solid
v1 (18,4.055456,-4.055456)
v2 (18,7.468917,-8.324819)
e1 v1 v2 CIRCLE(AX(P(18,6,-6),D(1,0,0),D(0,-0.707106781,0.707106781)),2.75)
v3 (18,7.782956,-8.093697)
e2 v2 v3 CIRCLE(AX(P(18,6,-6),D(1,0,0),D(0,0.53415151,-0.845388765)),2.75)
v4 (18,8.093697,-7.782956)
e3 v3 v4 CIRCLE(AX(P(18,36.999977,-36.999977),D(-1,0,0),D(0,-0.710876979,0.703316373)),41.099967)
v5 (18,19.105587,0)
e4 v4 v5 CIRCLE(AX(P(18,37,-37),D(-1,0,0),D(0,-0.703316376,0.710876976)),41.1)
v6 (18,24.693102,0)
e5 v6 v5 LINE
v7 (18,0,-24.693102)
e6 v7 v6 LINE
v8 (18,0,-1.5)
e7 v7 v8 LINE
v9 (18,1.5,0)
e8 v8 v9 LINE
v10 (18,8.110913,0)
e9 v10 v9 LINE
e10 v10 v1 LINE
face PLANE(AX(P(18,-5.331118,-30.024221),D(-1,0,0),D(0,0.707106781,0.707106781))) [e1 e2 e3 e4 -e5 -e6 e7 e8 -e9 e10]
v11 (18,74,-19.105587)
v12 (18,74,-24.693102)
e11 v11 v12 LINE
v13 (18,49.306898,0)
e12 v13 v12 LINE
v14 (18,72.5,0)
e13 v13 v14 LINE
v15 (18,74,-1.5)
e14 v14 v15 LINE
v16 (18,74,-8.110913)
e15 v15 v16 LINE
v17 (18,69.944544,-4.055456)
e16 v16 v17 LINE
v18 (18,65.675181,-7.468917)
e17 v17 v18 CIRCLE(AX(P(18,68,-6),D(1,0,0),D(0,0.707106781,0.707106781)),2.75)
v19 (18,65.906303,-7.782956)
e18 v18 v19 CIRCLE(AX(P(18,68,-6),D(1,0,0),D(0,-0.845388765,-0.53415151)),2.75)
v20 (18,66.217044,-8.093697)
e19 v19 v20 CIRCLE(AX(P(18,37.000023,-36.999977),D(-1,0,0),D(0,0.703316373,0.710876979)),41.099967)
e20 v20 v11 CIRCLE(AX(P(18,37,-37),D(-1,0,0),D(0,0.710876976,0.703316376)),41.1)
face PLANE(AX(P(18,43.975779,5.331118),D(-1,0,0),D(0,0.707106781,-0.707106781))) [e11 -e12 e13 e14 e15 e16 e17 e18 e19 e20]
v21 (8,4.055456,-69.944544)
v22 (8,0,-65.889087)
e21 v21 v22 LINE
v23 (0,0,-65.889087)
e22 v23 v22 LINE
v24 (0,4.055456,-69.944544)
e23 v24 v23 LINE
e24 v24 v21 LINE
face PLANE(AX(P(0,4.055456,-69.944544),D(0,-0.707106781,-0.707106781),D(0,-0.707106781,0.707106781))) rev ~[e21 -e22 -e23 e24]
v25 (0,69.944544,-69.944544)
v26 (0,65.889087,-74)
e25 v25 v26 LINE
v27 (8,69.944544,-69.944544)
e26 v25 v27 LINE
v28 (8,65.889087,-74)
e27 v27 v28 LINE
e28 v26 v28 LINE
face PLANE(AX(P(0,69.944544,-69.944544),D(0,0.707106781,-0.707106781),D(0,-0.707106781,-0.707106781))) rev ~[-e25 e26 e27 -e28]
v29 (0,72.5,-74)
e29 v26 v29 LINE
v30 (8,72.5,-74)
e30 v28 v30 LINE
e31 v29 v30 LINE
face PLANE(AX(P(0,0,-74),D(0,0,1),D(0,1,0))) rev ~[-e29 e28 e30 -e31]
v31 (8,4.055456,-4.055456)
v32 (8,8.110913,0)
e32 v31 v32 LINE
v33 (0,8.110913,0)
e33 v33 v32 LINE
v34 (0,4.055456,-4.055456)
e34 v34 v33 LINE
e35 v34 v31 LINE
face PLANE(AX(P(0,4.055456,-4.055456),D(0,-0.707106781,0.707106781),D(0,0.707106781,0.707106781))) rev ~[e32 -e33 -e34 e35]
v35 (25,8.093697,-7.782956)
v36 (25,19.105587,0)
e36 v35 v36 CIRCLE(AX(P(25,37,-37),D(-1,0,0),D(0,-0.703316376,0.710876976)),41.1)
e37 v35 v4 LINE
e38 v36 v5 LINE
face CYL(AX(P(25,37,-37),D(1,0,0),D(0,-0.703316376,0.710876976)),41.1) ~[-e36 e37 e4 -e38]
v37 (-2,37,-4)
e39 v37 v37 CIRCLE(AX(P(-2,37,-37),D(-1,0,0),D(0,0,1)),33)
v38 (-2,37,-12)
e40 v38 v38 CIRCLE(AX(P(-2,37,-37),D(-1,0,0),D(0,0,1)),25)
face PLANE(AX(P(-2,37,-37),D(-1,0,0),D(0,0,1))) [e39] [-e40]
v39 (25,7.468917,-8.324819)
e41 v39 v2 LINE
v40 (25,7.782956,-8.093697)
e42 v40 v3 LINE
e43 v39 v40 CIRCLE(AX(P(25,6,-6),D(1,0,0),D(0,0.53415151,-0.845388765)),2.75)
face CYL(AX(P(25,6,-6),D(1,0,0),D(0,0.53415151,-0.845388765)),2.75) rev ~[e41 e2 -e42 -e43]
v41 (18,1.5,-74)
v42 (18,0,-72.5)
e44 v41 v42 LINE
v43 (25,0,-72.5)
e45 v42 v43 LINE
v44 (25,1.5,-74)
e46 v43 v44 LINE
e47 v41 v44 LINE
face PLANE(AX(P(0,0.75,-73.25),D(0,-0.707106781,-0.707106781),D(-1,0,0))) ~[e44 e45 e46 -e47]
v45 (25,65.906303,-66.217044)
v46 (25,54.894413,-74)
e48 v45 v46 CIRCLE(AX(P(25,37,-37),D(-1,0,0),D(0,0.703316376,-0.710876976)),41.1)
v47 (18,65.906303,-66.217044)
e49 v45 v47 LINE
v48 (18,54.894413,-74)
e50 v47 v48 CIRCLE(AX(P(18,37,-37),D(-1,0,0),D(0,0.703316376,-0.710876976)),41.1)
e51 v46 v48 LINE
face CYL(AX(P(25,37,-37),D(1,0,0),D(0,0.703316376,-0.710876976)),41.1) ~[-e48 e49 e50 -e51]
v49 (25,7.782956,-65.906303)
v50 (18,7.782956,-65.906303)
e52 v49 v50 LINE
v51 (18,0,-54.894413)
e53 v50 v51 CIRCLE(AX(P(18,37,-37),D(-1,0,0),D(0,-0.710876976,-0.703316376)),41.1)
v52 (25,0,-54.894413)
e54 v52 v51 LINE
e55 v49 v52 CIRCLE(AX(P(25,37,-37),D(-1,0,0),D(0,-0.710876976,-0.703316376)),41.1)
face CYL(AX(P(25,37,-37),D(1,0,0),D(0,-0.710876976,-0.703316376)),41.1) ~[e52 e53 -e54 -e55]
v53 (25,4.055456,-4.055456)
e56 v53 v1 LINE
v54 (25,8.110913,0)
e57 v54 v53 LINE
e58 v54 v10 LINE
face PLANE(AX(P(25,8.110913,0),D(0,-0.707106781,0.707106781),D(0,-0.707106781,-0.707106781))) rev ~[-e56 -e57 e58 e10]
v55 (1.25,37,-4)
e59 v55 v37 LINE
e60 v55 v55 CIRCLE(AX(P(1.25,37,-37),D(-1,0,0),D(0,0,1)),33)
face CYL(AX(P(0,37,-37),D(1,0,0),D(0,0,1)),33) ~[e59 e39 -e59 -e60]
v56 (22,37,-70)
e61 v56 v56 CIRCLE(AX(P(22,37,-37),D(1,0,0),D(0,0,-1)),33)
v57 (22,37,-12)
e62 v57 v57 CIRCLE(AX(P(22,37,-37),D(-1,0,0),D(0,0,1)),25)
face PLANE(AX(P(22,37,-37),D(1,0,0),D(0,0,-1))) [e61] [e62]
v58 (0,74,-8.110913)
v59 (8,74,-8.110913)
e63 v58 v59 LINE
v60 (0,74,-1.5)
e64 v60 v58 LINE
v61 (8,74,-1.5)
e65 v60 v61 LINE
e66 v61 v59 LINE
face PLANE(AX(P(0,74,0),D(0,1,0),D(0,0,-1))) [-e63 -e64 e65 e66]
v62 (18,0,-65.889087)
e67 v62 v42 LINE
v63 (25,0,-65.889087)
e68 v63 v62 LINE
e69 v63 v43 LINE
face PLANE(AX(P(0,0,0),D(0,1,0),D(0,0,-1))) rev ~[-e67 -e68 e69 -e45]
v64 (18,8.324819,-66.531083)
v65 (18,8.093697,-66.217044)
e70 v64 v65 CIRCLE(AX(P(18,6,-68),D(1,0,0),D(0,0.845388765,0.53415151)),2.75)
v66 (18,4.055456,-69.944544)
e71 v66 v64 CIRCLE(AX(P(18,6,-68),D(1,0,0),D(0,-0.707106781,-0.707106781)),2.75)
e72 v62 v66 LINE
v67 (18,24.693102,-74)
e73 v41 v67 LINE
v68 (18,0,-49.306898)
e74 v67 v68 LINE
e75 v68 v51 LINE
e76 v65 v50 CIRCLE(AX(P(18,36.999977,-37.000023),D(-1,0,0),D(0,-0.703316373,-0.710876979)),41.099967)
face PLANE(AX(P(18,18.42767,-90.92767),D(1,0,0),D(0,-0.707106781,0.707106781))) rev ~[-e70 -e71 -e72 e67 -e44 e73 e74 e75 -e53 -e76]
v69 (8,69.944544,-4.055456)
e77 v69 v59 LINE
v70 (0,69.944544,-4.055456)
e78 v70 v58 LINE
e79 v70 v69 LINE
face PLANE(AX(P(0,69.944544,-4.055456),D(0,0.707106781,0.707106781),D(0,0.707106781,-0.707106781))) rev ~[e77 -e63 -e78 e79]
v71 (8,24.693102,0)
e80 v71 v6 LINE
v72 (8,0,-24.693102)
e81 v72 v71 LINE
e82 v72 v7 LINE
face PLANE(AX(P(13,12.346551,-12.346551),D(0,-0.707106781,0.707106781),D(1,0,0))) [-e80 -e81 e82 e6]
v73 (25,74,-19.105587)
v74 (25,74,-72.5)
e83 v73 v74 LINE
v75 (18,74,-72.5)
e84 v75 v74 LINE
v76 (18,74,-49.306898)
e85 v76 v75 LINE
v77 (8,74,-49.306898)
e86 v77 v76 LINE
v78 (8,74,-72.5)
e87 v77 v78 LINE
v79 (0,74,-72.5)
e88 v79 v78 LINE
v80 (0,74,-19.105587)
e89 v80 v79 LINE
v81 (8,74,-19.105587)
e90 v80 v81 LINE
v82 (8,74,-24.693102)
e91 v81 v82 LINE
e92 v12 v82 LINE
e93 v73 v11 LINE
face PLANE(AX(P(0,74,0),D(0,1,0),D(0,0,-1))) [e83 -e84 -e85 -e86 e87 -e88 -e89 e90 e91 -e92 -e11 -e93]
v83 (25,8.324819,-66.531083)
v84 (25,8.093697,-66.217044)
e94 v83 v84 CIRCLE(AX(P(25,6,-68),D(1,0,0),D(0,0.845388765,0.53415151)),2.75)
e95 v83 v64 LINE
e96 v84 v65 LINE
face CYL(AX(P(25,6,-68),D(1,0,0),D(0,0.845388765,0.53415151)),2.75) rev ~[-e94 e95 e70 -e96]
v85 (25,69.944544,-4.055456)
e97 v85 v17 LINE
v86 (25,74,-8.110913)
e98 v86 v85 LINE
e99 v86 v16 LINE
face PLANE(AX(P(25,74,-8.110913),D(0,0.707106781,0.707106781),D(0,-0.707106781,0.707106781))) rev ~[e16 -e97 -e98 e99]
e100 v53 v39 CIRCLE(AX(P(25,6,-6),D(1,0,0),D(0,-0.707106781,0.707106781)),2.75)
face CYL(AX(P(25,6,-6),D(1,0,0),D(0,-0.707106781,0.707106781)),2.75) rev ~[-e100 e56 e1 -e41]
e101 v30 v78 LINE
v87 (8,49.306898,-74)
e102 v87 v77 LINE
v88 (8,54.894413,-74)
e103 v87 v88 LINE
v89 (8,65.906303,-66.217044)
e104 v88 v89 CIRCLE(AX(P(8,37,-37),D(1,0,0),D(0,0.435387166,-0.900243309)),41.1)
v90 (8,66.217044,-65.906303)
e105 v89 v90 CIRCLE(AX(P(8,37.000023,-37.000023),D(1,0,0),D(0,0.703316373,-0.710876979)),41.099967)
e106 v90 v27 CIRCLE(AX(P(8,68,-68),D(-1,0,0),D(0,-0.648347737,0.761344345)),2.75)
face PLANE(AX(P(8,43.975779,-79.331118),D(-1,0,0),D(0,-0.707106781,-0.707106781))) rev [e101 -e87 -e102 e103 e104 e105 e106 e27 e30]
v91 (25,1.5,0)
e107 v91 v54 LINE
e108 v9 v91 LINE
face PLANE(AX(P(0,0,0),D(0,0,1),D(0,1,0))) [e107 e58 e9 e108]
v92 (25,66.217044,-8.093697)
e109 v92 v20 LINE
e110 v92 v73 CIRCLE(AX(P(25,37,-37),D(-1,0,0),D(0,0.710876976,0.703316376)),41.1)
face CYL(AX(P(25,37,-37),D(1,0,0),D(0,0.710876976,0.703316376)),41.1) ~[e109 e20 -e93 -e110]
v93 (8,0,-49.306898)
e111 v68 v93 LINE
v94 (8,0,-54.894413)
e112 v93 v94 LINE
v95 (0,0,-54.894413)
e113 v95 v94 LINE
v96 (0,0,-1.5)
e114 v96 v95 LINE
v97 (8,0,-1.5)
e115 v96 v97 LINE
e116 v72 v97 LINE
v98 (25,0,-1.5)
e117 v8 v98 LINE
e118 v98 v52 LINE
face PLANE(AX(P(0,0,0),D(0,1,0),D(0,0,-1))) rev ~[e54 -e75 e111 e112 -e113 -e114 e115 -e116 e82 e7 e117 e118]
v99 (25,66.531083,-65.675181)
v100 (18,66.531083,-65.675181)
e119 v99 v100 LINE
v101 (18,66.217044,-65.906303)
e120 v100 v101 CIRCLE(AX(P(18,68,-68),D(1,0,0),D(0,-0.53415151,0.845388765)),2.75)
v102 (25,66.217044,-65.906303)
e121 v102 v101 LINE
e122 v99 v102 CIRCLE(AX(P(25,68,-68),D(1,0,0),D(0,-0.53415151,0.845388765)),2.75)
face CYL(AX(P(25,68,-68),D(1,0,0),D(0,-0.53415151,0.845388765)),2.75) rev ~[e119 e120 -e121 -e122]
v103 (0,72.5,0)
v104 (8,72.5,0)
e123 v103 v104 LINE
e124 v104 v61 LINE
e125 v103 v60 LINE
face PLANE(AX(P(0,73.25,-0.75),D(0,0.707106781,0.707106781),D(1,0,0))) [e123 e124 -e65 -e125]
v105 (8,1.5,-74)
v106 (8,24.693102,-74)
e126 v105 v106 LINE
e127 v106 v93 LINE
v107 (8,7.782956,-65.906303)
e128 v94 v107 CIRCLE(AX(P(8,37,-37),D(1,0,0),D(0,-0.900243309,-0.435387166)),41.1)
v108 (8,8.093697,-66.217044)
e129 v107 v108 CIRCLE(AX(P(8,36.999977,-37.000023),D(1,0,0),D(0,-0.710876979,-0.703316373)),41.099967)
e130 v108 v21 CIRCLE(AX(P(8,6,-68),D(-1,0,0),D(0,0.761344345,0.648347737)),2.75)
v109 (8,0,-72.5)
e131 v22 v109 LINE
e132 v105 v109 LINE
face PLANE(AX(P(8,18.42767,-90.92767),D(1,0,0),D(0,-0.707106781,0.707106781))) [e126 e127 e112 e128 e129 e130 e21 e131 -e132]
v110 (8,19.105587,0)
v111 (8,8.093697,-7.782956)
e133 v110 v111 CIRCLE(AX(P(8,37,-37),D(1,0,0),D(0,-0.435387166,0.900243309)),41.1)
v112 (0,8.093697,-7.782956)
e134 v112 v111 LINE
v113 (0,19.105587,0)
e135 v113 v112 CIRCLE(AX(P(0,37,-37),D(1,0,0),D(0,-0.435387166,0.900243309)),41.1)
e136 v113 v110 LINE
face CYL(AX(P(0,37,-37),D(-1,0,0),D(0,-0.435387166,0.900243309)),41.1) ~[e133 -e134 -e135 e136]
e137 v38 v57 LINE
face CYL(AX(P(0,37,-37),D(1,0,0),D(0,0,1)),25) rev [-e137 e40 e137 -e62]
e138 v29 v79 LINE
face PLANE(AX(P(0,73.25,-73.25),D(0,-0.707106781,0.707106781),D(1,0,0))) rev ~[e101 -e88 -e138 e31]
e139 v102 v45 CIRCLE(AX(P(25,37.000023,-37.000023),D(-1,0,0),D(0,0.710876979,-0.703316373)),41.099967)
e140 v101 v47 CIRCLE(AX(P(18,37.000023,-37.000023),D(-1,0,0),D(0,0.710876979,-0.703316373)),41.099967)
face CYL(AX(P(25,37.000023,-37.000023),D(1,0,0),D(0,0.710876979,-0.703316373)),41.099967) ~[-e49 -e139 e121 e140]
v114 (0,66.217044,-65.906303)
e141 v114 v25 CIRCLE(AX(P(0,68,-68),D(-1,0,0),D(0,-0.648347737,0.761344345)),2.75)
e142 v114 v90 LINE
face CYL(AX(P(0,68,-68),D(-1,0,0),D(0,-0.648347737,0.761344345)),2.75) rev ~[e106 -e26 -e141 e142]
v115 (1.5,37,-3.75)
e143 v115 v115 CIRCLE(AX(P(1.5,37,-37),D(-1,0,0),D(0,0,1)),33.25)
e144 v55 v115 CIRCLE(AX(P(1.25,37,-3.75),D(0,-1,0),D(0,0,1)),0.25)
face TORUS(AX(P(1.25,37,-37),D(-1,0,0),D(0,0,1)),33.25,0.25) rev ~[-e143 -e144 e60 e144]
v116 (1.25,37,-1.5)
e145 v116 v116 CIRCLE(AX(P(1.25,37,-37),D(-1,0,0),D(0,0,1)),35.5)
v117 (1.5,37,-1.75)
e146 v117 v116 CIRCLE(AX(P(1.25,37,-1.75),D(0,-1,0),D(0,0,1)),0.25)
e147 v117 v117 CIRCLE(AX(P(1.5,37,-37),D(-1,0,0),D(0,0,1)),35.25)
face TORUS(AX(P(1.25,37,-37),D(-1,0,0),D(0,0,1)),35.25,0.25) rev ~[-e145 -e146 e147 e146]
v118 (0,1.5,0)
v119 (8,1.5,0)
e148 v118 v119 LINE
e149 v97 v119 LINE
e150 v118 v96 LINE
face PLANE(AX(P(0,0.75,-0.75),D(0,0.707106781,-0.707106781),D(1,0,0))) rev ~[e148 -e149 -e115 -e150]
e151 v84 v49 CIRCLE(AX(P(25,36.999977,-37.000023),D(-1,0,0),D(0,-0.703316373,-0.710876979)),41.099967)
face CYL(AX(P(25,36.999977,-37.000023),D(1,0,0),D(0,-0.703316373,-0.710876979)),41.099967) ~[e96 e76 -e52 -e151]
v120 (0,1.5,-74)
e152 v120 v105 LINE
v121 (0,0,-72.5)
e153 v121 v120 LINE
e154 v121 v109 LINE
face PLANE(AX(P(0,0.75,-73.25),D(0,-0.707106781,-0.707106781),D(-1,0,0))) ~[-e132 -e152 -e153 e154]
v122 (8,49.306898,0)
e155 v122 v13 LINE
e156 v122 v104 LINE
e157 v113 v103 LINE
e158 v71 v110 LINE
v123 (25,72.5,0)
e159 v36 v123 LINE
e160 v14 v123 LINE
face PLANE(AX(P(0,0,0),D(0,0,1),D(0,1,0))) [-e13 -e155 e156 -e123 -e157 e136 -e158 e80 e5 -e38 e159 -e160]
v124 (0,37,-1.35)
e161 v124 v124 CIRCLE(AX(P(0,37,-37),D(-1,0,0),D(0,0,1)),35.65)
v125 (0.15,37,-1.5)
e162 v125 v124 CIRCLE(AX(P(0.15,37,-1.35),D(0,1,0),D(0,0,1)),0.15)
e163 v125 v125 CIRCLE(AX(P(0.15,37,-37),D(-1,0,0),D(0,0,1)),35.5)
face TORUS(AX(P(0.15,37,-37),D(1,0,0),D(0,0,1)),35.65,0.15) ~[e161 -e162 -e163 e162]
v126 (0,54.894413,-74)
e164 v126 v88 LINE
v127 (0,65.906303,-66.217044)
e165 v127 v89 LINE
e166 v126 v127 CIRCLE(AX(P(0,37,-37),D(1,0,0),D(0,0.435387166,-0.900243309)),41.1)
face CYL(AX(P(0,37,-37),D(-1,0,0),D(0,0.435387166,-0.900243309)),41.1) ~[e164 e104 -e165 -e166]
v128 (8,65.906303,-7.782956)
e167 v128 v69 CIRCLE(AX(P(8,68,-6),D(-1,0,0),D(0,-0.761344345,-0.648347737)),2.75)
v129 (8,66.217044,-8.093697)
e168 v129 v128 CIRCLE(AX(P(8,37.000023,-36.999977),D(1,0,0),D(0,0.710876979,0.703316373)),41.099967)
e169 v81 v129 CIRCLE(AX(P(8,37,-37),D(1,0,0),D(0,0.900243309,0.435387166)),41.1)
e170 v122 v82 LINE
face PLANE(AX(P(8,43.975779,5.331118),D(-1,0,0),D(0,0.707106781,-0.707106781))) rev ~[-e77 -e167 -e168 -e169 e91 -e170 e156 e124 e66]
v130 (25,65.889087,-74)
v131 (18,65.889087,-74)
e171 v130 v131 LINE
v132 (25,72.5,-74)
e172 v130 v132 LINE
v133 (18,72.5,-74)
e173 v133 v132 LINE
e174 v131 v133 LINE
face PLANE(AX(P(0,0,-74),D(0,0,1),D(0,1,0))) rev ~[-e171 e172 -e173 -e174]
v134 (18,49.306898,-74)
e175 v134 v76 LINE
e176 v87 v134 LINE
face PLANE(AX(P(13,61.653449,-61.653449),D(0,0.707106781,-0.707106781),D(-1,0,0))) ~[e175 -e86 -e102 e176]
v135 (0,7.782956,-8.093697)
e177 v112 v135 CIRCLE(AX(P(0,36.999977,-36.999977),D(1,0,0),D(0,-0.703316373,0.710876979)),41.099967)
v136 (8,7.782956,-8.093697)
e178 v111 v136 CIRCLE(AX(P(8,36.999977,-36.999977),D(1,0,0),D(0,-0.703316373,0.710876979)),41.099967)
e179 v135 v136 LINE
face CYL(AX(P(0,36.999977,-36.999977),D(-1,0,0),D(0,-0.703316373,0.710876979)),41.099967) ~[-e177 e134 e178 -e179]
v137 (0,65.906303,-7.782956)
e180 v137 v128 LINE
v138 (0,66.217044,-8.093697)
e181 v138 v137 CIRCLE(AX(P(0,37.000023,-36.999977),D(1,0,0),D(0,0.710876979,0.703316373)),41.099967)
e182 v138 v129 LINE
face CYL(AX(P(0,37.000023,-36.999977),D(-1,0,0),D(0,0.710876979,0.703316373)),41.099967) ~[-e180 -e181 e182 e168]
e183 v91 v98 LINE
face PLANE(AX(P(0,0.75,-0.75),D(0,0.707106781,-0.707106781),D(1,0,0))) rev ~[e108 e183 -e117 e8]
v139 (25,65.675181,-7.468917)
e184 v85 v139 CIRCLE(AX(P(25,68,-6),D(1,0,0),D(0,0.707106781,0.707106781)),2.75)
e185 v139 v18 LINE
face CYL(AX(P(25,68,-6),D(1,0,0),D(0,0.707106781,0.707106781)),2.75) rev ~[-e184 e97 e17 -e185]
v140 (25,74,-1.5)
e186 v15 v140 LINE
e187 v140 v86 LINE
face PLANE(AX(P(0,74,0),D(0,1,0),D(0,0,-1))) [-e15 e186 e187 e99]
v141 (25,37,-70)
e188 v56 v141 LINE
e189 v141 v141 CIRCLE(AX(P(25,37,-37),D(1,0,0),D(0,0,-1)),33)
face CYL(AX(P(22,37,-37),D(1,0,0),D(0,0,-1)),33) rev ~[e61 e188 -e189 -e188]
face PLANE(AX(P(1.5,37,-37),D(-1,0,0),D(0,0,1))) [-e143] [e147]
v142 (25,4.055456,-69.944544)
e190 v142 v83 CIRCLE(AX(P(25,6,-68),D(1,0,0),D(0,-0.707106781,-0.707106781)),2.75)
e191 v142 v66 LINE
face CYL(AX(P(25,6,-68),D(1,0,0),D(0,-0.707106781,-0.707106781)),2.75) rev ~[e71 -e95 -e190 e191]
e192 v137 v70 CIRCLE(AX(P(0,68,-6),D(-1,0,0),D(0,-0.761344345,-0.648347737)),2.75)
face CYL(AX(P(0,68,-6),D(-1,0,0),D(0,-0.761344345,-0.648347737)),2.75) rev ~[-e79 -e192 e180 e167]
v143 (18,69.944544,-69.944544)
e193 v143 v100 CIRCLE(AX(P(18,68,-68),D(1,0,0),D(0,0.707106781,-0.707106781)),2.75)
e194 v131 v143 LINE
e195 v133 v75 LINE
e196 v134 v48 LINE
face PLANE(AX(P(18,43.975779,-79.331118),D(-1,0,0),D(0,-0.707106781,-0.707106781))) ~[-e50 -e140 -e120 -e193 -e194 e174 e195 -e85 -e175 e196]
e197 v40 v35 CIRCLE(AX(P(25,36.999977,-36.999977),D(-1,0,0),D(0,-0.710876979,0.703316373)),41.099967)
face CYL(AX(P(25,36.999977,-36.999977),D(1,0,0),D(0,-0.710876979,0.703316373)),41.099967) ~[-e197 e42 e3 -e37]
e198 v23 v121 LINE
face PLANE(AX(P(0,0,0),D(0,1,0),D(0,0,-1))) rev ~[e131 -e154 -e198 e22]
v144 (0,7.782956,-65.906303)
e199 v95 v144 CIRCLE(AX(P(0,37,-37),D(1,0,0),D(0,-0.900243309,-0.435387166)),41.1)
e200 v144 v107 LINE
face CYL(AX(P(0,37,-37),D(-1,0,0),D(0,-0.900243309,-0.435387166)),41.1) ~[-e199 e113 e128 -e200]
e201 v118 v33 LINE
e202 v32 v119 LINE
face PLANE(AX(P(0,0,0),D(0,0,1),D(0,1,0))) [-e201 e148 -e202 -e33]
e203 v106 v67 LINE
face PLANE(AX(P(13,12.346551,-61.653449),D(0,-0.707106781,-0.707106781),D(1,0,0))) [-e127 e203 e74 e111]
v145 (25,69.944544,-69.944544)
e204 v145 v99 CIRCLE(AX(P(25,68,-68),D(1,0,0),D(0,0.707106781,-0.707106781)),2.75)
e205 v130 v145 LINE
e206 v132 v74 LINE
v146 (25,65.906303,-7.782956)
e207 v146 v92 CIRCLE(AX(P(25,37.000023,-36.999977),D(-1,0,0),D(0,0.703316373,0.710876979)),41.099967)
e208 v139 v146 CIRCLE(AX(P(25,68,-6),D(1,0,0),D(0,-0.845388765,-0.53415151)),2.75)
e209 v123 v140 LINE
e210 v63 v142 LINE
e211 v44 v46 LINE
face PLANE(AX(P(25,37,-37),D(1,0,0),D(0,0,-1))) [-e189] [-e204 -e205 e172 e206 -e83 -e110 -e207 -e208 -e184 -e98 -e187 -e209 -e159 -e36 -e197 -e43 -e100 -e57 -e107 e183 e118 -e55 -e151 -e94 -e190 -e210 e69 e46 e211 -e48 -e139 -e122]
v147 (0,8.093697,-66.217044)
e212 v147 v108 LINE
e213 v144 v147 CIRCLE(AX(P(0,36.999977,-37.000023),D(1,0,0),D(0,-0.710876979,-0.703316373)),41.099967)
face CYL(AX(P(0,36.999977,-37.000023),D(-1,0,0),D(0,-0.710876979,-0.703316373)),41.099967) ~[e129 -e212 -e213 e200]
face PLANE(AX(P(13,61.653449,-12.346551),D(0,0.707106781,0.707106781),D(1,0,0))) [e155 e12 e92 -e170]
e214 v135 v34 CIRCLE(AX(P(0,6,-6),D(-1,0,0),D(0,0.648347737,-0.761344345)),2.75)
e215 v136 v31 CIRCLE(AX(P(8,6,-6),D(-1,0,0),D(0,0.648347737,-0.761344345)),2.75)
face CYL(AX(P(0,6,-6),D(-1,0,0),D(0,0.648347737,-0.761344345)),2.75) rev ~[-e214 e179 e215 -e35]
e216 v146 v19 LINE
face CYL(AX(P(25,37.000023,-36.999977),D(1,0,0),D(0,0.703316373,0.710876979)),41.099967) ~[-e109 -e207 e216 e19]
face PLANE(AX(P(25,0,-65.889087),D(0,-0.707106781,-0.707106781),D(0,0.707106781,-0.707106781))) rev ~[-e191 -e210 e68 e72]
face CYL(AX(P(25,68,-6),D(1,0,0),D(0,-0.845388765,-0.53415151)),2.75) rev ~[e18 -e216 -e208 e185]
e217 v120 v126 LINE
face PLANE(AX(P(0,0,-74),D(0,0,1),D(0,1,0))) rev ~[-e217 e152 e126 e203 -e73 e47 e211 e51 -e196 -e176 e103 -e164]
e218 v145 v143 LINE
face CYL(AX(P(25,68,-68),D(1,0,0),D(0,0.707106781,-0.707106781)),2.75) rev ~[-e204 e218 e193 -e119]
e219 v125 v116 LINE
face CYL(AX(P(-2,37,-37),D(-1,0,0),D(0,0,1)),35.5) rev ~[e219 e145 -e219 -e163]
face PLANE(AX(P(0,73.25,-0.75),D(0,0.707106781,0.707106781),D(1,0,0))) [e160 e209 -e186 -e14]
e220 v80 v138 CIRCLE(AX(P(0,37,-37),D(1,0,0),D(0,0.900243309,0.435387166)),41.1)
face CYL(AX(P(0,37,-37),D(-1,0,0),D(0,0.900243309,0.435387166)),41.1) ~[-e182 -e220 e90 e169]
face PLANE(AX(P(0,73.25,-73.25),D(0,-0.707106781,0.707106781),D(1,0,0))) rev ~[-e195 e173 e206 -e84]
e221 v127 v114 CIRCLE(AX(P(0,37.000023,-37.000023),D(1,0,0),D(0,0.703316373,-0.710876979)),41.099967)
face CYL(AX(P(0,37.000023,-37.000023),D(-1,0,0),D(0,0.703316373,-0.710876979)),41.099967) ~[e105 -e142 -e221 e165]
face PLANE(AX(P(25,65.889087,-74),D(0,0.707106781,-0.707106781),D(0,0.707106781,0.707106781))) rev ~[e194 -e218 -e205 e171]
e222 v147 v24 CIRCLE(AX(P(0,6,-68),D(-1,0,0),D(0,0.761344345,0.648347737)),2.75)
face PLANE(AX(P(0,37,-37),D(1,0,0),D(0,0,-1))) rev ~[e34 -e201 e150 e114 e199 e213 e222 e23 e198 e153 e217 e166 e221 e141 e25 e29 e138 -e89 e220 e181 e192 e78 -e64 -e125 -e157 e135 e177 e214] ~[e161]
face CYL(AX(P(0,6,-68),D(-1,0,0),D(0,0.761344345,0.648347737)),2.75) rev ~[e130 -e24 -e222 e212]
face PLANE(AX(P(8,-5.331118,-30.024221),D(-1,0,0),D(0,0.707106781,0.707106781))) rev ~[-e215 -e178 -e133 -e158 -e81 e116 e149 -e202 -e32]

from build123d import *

# Parameters (mm, degrees)
ESBO_O1_W                                           = 74
ESBO_O1_H                                           = 74
RESSALTO_EXTRUS_O1_DEPTH                            = 25
CHANFRO1_SIZE                                       = 1.5
REBAIXO_PARA_PARAFUSO_COM_CABE_A_PANELA_D           = 50
REBAIXO_PARA_PARAFUSO_COM_CABE_A_PANELA_DEPTH       = 35
REBAIXO_PARA_PARAFUSO_COM_CABE_A_PANELA_CBORE_D     = 66
REBAIXO_PARA_PARAFUSO_COM_CABE_A_PANELA_CBORE_DEPTH = 3
REBAIXO_PARA_PARAFUSO_COM_CABE_A_PANELA_TIP         = 15.021515476
ESBO_O4_W                                           = 10
ESBO_O4_H                                           = 50
CORTE_EXTRUS_O1_DEPTH                               = 16.4
ESBO_O6_W                                           = 10
ESBO_O6_H                                           = 50
CORTE_EXTRUS_O2_DEPTH                               = 16.4
CORTE_EXTRUS_O4_REACH                               = 19.461
ESBO_O11_W                                          = 10
ESBO_O11_H                                          = 50
CORTE_EXTRUS_O3_DEPTH                               = 7
PADR_OCIRCULAR1_COUNT                               = 4
ESBO_O13_R                                          = 33
ESBO_O13_R_2                                        = 25
RESSALTO_EXTRUS_O2_DEPTH                            = 2
ESBO_O14_R                                          = 35.5
ESBO_O14_R_2                                        = 33
CORTE_EXTRUS_O5_DEPTH                               = 3.5
CORTE_EXTRUS_O10_DEPTH                              = 8
PADR_OCIRCULAR2_COUNT                               = 4
FILETE1_R                                           = 0.25
FILETE2_R                                           = 0.15


with BuildPart() as part:
    # Esboço1 → Ressalto-extrusão1 (new body)
    with BuildSketch(Plane(origin=(0, 0, 0), x_dir=(0, 0, -1), z_dir=(1, 0, 0))):
        with Locations((37, 37)):
            Rectangle(ESBO_O1_W, ESBO_O1_H)
    extrude(amount=RESSALTO_EXTRUS_O1_DEPTH)

    # Chanfro1
    chanfro1_edges = [part.edges().sort_by_distance(p)[0] for p in [
        (12.5, 74, 0),
        (12.5, 74, -74),
        (12.5, 0, -74),
        (12.5, 0, 0),
    ]]
    chamfer(chanfro1_edges, length=CHANFRO1_SIZE)

    # Rebaixo para parafuso com cabeça panela de M21
    with Locations(Plane(origin=(25, 0, 0), x_dir=(0, 0, -1), z_dir=(1, 0, 0))):
        with Locations((37, 37)):
            CounterBoreHole(REBAIXO_PARA_PARAFUSO_COM_CABE_A_PANELA_D / 2, REBAIXO_PARA_PARAFUSO_COM_CABE_A_PANELA_CBORE_D / 2, REBAIXO_PARA_PARAFUSO_COM_CABE_A_PANELA_CBORE_DEPTH, depth=REBAIXO_PARA_PARAFUSO_COM_CABE_A_PANELA_DEPTH)
            with Locations((0, 0, -(REBAIXO_PARA_PARAFUSO_COM_CABE_A_PANELA_DEPTH + REBAIXO_PARA_PARAFUSO_COM_CABE_A_PANELA_TIP / 2))):  # 118° drill point
                Cone(0, REBAIXO_PARA_PARAFUSO_COM_CABE_A_PANELA_D / 2, REBAIXO_PARA_PARAFUSO_COM_CABE_A_PANELA_TIP, mode=Mode.SUBTRACT)

    # Esboço4 → Corte-extrusão1 (cut)
    with BuildSketch(Plane(origin=(0, 12.346551211, -12.346551211), x_dir=(1, 0, 0), z_dir=(0, -0.707106781, 0.707106781))):
        with Locations((13, 0)):
            Rectangle(ESBO_O4_W, ESBO_O4_H)
    corte_extrus_o1 = extrude(amount=CORTE_EXTRUS_O1_DEPTH, mode=Mode.SUBTRACT)

    # Espelhar1: Corte-extrusão1 across plane
    add(corte_extrus_o1.mirror(Plane(origin=(0, 37, -37), x_dir=(0, 0.707106781, 0.707106781), z_dir=(0, -0.707106781, 0.707106781))), mode=Mode.SUBTRACT)

    # Esboço6 → Corte-extrusão2 (cut)
    with BuildSketch(Plane(origin=(0, -36.25, -36.25), x_dir=(1, 0, 0), z_dir=(0, -0.707106781, -0.707106781))):
        with Locations((13, -52.325901808)):
            Rectangle(ESBO_O6_W, ESBO_O6_H)
    extrude(amount=-CORTE_EXTRUS_O2_DEPTH, mode=Mode.SUBTRACT)

    # Esboço11 → Corte-extrusão4 (cut, up to next)
    with BuildSketch(Plane(origin=(0, 24.653448789, 24.653448789), x_dir=(1, 0, 0), z_dir=(0, 0.707106781, 0.707106781)), mode=Mode.PRIVATE) as corte_extrus_o4_sk1:
        with Locations((13, 52.325901808)):
            Rectangle(ESBO_O11_W, ESBO_O11_H)
    corte_extrus_o4_tool1 = extrude(corte_extrus_o4_sk1.sketch, amount=CORTE_EXTRUS_O4_REACH, mode=Mode.PRIVATE) & part.part
    add(corte_extrus_o4_tool1.solids().sort_by_distance((13, 61.653449, -12.346551))[0], mode=Mode.SUBTRACT)

    # Esboço9 → Corte-extrusão3 (cut)
    with BuildSketch(Plane(origin=(25, 0, 0), x_dir=(0, 0, -1), z_dir=(1, 0, 0))):
        with BuildLine():
            Line((8.110912703, 74), (4.055456352, 69.944543648))
            ThreePointArc((4.055456352, 69.944543648), (3.852112704, 66.282711392), (7.468916653, 65.675180896))
            ThreePointArc((7.468916653, 65.675180896), (7.630037959, 65.785169024), (7.782956276, 65.90630305))
            ThreePointArc((7.782956276, 65.90630305), (7.937911293, 66.062088707), (8.09369695, 66.217043724))
            ThreePointArc((8.09369695, 66.217043724), (13.278272682, 70.563218753), (19.105587464, 74))
            Line((19.105587464, 74), (8.110912703, 74))
        make_face()
    corte_extrus_o3 = extrude(amount=-CORTE_EXTRUS_O3_DEPTH, mode=Mode.SUBTRACT)

    # PadrãoCircular1: Corte-extrusão3 ×4 about axis
    padr_ocircular1_axis = Axis((0, 37, -37), (1, 0, 0))
    for i in range(1, PADR_OCIRCULAR1_COUNT):
        add(corte_extrus_o3.rotate(padr_ocircular1_axis, i * 360 / PADR_OCIRCULAR1_COUNT), mode=Mode.SUBTRACT)

    # Esboço13 → Ressalto-extrusão2 (add)
    with BuildSketch(Plane.ZY):
        with Locations((-37, 37)):
            Circle(ESBO_O13_R)
        with Locations((-37, 37)):
            Circle(ESBO_O13_R_2, mode=Mode.SUBTRACT)
    extrude(amount=RESSALTO_EXTRUS_O2_DEPTH)

    # Esboço14 → Corte-extrusão5 (cut)
    with BuildSketch(Plane.ZY.offset(2)):
        with Locations((-37, 37)):
            Circle(ESBO_O14_R)
        with Locations((-37, 37)):
            Circle(ESBO_O14_R_2, mode=Mode.SUBTRACT)
    extrude(amount=-CORTE_EXTRUS_O5_DEPTH, mode=Mode.SUBTRACT)

    # Esboço16 → Corte-extrusão10 (cut)
    with BuildSketch(Plane.ZY):
        with BuildLine():
            ThreePointArc((-7.782956276, 65.90630305), (-3.979263896, 66.134758569), (-4.055456352, 69.944543648))
            Line((-4.055456352, 69.944543648), (-8.110912703, 74))
            Line((-8.110912703, 74), (-19.105587464, 74))
            ThreePointArc((-19.105587464, 74), (-13.278272682, 70.563218753), (-8.09369695, 66.217043724))
            ThreePointArc((-8.09369695, 66.217043724), (-7.937911293, 66.062088707), (-7.782956276, 65.90630305))
        make_face()
    corte_extrus_o10 = extrude(amount=-CORTE_EXTRUS_O10_DEPTH, mode=Mode.SUBTRACT)

    # PadrãoCircular2: Corte-extrusão10 ×4 about axis
    padr_ocircular2_axis = Axis((0, 37, -37), (1, 0, 0))
    for i in range(1, PADR_OCIRCULAR2_COUNT):
        add(corte_extrus_o10.rotate(padr_ocircular2_axis, i * 360 / PADR_OCIRCULAR2_COUNT), mode=Mode.SUBTRACT)

    # Filete1
    filete1_edges = [part.edges().sort_by_distance(p)[0] for p in [
        (1.5, 37, -72.5),
        (1.5, 37, -70),
    ]]
    fillet(filete1_edges, radius=FILETE1_R)

    # Filete2
    filete2_edges = [part.edges().sort_by_distance(p)[0] for p in [
        (0, 37, -72.5),
    ]]
    fillet(filete2_edges, radius=FILETE2_R)


solid = part.part
